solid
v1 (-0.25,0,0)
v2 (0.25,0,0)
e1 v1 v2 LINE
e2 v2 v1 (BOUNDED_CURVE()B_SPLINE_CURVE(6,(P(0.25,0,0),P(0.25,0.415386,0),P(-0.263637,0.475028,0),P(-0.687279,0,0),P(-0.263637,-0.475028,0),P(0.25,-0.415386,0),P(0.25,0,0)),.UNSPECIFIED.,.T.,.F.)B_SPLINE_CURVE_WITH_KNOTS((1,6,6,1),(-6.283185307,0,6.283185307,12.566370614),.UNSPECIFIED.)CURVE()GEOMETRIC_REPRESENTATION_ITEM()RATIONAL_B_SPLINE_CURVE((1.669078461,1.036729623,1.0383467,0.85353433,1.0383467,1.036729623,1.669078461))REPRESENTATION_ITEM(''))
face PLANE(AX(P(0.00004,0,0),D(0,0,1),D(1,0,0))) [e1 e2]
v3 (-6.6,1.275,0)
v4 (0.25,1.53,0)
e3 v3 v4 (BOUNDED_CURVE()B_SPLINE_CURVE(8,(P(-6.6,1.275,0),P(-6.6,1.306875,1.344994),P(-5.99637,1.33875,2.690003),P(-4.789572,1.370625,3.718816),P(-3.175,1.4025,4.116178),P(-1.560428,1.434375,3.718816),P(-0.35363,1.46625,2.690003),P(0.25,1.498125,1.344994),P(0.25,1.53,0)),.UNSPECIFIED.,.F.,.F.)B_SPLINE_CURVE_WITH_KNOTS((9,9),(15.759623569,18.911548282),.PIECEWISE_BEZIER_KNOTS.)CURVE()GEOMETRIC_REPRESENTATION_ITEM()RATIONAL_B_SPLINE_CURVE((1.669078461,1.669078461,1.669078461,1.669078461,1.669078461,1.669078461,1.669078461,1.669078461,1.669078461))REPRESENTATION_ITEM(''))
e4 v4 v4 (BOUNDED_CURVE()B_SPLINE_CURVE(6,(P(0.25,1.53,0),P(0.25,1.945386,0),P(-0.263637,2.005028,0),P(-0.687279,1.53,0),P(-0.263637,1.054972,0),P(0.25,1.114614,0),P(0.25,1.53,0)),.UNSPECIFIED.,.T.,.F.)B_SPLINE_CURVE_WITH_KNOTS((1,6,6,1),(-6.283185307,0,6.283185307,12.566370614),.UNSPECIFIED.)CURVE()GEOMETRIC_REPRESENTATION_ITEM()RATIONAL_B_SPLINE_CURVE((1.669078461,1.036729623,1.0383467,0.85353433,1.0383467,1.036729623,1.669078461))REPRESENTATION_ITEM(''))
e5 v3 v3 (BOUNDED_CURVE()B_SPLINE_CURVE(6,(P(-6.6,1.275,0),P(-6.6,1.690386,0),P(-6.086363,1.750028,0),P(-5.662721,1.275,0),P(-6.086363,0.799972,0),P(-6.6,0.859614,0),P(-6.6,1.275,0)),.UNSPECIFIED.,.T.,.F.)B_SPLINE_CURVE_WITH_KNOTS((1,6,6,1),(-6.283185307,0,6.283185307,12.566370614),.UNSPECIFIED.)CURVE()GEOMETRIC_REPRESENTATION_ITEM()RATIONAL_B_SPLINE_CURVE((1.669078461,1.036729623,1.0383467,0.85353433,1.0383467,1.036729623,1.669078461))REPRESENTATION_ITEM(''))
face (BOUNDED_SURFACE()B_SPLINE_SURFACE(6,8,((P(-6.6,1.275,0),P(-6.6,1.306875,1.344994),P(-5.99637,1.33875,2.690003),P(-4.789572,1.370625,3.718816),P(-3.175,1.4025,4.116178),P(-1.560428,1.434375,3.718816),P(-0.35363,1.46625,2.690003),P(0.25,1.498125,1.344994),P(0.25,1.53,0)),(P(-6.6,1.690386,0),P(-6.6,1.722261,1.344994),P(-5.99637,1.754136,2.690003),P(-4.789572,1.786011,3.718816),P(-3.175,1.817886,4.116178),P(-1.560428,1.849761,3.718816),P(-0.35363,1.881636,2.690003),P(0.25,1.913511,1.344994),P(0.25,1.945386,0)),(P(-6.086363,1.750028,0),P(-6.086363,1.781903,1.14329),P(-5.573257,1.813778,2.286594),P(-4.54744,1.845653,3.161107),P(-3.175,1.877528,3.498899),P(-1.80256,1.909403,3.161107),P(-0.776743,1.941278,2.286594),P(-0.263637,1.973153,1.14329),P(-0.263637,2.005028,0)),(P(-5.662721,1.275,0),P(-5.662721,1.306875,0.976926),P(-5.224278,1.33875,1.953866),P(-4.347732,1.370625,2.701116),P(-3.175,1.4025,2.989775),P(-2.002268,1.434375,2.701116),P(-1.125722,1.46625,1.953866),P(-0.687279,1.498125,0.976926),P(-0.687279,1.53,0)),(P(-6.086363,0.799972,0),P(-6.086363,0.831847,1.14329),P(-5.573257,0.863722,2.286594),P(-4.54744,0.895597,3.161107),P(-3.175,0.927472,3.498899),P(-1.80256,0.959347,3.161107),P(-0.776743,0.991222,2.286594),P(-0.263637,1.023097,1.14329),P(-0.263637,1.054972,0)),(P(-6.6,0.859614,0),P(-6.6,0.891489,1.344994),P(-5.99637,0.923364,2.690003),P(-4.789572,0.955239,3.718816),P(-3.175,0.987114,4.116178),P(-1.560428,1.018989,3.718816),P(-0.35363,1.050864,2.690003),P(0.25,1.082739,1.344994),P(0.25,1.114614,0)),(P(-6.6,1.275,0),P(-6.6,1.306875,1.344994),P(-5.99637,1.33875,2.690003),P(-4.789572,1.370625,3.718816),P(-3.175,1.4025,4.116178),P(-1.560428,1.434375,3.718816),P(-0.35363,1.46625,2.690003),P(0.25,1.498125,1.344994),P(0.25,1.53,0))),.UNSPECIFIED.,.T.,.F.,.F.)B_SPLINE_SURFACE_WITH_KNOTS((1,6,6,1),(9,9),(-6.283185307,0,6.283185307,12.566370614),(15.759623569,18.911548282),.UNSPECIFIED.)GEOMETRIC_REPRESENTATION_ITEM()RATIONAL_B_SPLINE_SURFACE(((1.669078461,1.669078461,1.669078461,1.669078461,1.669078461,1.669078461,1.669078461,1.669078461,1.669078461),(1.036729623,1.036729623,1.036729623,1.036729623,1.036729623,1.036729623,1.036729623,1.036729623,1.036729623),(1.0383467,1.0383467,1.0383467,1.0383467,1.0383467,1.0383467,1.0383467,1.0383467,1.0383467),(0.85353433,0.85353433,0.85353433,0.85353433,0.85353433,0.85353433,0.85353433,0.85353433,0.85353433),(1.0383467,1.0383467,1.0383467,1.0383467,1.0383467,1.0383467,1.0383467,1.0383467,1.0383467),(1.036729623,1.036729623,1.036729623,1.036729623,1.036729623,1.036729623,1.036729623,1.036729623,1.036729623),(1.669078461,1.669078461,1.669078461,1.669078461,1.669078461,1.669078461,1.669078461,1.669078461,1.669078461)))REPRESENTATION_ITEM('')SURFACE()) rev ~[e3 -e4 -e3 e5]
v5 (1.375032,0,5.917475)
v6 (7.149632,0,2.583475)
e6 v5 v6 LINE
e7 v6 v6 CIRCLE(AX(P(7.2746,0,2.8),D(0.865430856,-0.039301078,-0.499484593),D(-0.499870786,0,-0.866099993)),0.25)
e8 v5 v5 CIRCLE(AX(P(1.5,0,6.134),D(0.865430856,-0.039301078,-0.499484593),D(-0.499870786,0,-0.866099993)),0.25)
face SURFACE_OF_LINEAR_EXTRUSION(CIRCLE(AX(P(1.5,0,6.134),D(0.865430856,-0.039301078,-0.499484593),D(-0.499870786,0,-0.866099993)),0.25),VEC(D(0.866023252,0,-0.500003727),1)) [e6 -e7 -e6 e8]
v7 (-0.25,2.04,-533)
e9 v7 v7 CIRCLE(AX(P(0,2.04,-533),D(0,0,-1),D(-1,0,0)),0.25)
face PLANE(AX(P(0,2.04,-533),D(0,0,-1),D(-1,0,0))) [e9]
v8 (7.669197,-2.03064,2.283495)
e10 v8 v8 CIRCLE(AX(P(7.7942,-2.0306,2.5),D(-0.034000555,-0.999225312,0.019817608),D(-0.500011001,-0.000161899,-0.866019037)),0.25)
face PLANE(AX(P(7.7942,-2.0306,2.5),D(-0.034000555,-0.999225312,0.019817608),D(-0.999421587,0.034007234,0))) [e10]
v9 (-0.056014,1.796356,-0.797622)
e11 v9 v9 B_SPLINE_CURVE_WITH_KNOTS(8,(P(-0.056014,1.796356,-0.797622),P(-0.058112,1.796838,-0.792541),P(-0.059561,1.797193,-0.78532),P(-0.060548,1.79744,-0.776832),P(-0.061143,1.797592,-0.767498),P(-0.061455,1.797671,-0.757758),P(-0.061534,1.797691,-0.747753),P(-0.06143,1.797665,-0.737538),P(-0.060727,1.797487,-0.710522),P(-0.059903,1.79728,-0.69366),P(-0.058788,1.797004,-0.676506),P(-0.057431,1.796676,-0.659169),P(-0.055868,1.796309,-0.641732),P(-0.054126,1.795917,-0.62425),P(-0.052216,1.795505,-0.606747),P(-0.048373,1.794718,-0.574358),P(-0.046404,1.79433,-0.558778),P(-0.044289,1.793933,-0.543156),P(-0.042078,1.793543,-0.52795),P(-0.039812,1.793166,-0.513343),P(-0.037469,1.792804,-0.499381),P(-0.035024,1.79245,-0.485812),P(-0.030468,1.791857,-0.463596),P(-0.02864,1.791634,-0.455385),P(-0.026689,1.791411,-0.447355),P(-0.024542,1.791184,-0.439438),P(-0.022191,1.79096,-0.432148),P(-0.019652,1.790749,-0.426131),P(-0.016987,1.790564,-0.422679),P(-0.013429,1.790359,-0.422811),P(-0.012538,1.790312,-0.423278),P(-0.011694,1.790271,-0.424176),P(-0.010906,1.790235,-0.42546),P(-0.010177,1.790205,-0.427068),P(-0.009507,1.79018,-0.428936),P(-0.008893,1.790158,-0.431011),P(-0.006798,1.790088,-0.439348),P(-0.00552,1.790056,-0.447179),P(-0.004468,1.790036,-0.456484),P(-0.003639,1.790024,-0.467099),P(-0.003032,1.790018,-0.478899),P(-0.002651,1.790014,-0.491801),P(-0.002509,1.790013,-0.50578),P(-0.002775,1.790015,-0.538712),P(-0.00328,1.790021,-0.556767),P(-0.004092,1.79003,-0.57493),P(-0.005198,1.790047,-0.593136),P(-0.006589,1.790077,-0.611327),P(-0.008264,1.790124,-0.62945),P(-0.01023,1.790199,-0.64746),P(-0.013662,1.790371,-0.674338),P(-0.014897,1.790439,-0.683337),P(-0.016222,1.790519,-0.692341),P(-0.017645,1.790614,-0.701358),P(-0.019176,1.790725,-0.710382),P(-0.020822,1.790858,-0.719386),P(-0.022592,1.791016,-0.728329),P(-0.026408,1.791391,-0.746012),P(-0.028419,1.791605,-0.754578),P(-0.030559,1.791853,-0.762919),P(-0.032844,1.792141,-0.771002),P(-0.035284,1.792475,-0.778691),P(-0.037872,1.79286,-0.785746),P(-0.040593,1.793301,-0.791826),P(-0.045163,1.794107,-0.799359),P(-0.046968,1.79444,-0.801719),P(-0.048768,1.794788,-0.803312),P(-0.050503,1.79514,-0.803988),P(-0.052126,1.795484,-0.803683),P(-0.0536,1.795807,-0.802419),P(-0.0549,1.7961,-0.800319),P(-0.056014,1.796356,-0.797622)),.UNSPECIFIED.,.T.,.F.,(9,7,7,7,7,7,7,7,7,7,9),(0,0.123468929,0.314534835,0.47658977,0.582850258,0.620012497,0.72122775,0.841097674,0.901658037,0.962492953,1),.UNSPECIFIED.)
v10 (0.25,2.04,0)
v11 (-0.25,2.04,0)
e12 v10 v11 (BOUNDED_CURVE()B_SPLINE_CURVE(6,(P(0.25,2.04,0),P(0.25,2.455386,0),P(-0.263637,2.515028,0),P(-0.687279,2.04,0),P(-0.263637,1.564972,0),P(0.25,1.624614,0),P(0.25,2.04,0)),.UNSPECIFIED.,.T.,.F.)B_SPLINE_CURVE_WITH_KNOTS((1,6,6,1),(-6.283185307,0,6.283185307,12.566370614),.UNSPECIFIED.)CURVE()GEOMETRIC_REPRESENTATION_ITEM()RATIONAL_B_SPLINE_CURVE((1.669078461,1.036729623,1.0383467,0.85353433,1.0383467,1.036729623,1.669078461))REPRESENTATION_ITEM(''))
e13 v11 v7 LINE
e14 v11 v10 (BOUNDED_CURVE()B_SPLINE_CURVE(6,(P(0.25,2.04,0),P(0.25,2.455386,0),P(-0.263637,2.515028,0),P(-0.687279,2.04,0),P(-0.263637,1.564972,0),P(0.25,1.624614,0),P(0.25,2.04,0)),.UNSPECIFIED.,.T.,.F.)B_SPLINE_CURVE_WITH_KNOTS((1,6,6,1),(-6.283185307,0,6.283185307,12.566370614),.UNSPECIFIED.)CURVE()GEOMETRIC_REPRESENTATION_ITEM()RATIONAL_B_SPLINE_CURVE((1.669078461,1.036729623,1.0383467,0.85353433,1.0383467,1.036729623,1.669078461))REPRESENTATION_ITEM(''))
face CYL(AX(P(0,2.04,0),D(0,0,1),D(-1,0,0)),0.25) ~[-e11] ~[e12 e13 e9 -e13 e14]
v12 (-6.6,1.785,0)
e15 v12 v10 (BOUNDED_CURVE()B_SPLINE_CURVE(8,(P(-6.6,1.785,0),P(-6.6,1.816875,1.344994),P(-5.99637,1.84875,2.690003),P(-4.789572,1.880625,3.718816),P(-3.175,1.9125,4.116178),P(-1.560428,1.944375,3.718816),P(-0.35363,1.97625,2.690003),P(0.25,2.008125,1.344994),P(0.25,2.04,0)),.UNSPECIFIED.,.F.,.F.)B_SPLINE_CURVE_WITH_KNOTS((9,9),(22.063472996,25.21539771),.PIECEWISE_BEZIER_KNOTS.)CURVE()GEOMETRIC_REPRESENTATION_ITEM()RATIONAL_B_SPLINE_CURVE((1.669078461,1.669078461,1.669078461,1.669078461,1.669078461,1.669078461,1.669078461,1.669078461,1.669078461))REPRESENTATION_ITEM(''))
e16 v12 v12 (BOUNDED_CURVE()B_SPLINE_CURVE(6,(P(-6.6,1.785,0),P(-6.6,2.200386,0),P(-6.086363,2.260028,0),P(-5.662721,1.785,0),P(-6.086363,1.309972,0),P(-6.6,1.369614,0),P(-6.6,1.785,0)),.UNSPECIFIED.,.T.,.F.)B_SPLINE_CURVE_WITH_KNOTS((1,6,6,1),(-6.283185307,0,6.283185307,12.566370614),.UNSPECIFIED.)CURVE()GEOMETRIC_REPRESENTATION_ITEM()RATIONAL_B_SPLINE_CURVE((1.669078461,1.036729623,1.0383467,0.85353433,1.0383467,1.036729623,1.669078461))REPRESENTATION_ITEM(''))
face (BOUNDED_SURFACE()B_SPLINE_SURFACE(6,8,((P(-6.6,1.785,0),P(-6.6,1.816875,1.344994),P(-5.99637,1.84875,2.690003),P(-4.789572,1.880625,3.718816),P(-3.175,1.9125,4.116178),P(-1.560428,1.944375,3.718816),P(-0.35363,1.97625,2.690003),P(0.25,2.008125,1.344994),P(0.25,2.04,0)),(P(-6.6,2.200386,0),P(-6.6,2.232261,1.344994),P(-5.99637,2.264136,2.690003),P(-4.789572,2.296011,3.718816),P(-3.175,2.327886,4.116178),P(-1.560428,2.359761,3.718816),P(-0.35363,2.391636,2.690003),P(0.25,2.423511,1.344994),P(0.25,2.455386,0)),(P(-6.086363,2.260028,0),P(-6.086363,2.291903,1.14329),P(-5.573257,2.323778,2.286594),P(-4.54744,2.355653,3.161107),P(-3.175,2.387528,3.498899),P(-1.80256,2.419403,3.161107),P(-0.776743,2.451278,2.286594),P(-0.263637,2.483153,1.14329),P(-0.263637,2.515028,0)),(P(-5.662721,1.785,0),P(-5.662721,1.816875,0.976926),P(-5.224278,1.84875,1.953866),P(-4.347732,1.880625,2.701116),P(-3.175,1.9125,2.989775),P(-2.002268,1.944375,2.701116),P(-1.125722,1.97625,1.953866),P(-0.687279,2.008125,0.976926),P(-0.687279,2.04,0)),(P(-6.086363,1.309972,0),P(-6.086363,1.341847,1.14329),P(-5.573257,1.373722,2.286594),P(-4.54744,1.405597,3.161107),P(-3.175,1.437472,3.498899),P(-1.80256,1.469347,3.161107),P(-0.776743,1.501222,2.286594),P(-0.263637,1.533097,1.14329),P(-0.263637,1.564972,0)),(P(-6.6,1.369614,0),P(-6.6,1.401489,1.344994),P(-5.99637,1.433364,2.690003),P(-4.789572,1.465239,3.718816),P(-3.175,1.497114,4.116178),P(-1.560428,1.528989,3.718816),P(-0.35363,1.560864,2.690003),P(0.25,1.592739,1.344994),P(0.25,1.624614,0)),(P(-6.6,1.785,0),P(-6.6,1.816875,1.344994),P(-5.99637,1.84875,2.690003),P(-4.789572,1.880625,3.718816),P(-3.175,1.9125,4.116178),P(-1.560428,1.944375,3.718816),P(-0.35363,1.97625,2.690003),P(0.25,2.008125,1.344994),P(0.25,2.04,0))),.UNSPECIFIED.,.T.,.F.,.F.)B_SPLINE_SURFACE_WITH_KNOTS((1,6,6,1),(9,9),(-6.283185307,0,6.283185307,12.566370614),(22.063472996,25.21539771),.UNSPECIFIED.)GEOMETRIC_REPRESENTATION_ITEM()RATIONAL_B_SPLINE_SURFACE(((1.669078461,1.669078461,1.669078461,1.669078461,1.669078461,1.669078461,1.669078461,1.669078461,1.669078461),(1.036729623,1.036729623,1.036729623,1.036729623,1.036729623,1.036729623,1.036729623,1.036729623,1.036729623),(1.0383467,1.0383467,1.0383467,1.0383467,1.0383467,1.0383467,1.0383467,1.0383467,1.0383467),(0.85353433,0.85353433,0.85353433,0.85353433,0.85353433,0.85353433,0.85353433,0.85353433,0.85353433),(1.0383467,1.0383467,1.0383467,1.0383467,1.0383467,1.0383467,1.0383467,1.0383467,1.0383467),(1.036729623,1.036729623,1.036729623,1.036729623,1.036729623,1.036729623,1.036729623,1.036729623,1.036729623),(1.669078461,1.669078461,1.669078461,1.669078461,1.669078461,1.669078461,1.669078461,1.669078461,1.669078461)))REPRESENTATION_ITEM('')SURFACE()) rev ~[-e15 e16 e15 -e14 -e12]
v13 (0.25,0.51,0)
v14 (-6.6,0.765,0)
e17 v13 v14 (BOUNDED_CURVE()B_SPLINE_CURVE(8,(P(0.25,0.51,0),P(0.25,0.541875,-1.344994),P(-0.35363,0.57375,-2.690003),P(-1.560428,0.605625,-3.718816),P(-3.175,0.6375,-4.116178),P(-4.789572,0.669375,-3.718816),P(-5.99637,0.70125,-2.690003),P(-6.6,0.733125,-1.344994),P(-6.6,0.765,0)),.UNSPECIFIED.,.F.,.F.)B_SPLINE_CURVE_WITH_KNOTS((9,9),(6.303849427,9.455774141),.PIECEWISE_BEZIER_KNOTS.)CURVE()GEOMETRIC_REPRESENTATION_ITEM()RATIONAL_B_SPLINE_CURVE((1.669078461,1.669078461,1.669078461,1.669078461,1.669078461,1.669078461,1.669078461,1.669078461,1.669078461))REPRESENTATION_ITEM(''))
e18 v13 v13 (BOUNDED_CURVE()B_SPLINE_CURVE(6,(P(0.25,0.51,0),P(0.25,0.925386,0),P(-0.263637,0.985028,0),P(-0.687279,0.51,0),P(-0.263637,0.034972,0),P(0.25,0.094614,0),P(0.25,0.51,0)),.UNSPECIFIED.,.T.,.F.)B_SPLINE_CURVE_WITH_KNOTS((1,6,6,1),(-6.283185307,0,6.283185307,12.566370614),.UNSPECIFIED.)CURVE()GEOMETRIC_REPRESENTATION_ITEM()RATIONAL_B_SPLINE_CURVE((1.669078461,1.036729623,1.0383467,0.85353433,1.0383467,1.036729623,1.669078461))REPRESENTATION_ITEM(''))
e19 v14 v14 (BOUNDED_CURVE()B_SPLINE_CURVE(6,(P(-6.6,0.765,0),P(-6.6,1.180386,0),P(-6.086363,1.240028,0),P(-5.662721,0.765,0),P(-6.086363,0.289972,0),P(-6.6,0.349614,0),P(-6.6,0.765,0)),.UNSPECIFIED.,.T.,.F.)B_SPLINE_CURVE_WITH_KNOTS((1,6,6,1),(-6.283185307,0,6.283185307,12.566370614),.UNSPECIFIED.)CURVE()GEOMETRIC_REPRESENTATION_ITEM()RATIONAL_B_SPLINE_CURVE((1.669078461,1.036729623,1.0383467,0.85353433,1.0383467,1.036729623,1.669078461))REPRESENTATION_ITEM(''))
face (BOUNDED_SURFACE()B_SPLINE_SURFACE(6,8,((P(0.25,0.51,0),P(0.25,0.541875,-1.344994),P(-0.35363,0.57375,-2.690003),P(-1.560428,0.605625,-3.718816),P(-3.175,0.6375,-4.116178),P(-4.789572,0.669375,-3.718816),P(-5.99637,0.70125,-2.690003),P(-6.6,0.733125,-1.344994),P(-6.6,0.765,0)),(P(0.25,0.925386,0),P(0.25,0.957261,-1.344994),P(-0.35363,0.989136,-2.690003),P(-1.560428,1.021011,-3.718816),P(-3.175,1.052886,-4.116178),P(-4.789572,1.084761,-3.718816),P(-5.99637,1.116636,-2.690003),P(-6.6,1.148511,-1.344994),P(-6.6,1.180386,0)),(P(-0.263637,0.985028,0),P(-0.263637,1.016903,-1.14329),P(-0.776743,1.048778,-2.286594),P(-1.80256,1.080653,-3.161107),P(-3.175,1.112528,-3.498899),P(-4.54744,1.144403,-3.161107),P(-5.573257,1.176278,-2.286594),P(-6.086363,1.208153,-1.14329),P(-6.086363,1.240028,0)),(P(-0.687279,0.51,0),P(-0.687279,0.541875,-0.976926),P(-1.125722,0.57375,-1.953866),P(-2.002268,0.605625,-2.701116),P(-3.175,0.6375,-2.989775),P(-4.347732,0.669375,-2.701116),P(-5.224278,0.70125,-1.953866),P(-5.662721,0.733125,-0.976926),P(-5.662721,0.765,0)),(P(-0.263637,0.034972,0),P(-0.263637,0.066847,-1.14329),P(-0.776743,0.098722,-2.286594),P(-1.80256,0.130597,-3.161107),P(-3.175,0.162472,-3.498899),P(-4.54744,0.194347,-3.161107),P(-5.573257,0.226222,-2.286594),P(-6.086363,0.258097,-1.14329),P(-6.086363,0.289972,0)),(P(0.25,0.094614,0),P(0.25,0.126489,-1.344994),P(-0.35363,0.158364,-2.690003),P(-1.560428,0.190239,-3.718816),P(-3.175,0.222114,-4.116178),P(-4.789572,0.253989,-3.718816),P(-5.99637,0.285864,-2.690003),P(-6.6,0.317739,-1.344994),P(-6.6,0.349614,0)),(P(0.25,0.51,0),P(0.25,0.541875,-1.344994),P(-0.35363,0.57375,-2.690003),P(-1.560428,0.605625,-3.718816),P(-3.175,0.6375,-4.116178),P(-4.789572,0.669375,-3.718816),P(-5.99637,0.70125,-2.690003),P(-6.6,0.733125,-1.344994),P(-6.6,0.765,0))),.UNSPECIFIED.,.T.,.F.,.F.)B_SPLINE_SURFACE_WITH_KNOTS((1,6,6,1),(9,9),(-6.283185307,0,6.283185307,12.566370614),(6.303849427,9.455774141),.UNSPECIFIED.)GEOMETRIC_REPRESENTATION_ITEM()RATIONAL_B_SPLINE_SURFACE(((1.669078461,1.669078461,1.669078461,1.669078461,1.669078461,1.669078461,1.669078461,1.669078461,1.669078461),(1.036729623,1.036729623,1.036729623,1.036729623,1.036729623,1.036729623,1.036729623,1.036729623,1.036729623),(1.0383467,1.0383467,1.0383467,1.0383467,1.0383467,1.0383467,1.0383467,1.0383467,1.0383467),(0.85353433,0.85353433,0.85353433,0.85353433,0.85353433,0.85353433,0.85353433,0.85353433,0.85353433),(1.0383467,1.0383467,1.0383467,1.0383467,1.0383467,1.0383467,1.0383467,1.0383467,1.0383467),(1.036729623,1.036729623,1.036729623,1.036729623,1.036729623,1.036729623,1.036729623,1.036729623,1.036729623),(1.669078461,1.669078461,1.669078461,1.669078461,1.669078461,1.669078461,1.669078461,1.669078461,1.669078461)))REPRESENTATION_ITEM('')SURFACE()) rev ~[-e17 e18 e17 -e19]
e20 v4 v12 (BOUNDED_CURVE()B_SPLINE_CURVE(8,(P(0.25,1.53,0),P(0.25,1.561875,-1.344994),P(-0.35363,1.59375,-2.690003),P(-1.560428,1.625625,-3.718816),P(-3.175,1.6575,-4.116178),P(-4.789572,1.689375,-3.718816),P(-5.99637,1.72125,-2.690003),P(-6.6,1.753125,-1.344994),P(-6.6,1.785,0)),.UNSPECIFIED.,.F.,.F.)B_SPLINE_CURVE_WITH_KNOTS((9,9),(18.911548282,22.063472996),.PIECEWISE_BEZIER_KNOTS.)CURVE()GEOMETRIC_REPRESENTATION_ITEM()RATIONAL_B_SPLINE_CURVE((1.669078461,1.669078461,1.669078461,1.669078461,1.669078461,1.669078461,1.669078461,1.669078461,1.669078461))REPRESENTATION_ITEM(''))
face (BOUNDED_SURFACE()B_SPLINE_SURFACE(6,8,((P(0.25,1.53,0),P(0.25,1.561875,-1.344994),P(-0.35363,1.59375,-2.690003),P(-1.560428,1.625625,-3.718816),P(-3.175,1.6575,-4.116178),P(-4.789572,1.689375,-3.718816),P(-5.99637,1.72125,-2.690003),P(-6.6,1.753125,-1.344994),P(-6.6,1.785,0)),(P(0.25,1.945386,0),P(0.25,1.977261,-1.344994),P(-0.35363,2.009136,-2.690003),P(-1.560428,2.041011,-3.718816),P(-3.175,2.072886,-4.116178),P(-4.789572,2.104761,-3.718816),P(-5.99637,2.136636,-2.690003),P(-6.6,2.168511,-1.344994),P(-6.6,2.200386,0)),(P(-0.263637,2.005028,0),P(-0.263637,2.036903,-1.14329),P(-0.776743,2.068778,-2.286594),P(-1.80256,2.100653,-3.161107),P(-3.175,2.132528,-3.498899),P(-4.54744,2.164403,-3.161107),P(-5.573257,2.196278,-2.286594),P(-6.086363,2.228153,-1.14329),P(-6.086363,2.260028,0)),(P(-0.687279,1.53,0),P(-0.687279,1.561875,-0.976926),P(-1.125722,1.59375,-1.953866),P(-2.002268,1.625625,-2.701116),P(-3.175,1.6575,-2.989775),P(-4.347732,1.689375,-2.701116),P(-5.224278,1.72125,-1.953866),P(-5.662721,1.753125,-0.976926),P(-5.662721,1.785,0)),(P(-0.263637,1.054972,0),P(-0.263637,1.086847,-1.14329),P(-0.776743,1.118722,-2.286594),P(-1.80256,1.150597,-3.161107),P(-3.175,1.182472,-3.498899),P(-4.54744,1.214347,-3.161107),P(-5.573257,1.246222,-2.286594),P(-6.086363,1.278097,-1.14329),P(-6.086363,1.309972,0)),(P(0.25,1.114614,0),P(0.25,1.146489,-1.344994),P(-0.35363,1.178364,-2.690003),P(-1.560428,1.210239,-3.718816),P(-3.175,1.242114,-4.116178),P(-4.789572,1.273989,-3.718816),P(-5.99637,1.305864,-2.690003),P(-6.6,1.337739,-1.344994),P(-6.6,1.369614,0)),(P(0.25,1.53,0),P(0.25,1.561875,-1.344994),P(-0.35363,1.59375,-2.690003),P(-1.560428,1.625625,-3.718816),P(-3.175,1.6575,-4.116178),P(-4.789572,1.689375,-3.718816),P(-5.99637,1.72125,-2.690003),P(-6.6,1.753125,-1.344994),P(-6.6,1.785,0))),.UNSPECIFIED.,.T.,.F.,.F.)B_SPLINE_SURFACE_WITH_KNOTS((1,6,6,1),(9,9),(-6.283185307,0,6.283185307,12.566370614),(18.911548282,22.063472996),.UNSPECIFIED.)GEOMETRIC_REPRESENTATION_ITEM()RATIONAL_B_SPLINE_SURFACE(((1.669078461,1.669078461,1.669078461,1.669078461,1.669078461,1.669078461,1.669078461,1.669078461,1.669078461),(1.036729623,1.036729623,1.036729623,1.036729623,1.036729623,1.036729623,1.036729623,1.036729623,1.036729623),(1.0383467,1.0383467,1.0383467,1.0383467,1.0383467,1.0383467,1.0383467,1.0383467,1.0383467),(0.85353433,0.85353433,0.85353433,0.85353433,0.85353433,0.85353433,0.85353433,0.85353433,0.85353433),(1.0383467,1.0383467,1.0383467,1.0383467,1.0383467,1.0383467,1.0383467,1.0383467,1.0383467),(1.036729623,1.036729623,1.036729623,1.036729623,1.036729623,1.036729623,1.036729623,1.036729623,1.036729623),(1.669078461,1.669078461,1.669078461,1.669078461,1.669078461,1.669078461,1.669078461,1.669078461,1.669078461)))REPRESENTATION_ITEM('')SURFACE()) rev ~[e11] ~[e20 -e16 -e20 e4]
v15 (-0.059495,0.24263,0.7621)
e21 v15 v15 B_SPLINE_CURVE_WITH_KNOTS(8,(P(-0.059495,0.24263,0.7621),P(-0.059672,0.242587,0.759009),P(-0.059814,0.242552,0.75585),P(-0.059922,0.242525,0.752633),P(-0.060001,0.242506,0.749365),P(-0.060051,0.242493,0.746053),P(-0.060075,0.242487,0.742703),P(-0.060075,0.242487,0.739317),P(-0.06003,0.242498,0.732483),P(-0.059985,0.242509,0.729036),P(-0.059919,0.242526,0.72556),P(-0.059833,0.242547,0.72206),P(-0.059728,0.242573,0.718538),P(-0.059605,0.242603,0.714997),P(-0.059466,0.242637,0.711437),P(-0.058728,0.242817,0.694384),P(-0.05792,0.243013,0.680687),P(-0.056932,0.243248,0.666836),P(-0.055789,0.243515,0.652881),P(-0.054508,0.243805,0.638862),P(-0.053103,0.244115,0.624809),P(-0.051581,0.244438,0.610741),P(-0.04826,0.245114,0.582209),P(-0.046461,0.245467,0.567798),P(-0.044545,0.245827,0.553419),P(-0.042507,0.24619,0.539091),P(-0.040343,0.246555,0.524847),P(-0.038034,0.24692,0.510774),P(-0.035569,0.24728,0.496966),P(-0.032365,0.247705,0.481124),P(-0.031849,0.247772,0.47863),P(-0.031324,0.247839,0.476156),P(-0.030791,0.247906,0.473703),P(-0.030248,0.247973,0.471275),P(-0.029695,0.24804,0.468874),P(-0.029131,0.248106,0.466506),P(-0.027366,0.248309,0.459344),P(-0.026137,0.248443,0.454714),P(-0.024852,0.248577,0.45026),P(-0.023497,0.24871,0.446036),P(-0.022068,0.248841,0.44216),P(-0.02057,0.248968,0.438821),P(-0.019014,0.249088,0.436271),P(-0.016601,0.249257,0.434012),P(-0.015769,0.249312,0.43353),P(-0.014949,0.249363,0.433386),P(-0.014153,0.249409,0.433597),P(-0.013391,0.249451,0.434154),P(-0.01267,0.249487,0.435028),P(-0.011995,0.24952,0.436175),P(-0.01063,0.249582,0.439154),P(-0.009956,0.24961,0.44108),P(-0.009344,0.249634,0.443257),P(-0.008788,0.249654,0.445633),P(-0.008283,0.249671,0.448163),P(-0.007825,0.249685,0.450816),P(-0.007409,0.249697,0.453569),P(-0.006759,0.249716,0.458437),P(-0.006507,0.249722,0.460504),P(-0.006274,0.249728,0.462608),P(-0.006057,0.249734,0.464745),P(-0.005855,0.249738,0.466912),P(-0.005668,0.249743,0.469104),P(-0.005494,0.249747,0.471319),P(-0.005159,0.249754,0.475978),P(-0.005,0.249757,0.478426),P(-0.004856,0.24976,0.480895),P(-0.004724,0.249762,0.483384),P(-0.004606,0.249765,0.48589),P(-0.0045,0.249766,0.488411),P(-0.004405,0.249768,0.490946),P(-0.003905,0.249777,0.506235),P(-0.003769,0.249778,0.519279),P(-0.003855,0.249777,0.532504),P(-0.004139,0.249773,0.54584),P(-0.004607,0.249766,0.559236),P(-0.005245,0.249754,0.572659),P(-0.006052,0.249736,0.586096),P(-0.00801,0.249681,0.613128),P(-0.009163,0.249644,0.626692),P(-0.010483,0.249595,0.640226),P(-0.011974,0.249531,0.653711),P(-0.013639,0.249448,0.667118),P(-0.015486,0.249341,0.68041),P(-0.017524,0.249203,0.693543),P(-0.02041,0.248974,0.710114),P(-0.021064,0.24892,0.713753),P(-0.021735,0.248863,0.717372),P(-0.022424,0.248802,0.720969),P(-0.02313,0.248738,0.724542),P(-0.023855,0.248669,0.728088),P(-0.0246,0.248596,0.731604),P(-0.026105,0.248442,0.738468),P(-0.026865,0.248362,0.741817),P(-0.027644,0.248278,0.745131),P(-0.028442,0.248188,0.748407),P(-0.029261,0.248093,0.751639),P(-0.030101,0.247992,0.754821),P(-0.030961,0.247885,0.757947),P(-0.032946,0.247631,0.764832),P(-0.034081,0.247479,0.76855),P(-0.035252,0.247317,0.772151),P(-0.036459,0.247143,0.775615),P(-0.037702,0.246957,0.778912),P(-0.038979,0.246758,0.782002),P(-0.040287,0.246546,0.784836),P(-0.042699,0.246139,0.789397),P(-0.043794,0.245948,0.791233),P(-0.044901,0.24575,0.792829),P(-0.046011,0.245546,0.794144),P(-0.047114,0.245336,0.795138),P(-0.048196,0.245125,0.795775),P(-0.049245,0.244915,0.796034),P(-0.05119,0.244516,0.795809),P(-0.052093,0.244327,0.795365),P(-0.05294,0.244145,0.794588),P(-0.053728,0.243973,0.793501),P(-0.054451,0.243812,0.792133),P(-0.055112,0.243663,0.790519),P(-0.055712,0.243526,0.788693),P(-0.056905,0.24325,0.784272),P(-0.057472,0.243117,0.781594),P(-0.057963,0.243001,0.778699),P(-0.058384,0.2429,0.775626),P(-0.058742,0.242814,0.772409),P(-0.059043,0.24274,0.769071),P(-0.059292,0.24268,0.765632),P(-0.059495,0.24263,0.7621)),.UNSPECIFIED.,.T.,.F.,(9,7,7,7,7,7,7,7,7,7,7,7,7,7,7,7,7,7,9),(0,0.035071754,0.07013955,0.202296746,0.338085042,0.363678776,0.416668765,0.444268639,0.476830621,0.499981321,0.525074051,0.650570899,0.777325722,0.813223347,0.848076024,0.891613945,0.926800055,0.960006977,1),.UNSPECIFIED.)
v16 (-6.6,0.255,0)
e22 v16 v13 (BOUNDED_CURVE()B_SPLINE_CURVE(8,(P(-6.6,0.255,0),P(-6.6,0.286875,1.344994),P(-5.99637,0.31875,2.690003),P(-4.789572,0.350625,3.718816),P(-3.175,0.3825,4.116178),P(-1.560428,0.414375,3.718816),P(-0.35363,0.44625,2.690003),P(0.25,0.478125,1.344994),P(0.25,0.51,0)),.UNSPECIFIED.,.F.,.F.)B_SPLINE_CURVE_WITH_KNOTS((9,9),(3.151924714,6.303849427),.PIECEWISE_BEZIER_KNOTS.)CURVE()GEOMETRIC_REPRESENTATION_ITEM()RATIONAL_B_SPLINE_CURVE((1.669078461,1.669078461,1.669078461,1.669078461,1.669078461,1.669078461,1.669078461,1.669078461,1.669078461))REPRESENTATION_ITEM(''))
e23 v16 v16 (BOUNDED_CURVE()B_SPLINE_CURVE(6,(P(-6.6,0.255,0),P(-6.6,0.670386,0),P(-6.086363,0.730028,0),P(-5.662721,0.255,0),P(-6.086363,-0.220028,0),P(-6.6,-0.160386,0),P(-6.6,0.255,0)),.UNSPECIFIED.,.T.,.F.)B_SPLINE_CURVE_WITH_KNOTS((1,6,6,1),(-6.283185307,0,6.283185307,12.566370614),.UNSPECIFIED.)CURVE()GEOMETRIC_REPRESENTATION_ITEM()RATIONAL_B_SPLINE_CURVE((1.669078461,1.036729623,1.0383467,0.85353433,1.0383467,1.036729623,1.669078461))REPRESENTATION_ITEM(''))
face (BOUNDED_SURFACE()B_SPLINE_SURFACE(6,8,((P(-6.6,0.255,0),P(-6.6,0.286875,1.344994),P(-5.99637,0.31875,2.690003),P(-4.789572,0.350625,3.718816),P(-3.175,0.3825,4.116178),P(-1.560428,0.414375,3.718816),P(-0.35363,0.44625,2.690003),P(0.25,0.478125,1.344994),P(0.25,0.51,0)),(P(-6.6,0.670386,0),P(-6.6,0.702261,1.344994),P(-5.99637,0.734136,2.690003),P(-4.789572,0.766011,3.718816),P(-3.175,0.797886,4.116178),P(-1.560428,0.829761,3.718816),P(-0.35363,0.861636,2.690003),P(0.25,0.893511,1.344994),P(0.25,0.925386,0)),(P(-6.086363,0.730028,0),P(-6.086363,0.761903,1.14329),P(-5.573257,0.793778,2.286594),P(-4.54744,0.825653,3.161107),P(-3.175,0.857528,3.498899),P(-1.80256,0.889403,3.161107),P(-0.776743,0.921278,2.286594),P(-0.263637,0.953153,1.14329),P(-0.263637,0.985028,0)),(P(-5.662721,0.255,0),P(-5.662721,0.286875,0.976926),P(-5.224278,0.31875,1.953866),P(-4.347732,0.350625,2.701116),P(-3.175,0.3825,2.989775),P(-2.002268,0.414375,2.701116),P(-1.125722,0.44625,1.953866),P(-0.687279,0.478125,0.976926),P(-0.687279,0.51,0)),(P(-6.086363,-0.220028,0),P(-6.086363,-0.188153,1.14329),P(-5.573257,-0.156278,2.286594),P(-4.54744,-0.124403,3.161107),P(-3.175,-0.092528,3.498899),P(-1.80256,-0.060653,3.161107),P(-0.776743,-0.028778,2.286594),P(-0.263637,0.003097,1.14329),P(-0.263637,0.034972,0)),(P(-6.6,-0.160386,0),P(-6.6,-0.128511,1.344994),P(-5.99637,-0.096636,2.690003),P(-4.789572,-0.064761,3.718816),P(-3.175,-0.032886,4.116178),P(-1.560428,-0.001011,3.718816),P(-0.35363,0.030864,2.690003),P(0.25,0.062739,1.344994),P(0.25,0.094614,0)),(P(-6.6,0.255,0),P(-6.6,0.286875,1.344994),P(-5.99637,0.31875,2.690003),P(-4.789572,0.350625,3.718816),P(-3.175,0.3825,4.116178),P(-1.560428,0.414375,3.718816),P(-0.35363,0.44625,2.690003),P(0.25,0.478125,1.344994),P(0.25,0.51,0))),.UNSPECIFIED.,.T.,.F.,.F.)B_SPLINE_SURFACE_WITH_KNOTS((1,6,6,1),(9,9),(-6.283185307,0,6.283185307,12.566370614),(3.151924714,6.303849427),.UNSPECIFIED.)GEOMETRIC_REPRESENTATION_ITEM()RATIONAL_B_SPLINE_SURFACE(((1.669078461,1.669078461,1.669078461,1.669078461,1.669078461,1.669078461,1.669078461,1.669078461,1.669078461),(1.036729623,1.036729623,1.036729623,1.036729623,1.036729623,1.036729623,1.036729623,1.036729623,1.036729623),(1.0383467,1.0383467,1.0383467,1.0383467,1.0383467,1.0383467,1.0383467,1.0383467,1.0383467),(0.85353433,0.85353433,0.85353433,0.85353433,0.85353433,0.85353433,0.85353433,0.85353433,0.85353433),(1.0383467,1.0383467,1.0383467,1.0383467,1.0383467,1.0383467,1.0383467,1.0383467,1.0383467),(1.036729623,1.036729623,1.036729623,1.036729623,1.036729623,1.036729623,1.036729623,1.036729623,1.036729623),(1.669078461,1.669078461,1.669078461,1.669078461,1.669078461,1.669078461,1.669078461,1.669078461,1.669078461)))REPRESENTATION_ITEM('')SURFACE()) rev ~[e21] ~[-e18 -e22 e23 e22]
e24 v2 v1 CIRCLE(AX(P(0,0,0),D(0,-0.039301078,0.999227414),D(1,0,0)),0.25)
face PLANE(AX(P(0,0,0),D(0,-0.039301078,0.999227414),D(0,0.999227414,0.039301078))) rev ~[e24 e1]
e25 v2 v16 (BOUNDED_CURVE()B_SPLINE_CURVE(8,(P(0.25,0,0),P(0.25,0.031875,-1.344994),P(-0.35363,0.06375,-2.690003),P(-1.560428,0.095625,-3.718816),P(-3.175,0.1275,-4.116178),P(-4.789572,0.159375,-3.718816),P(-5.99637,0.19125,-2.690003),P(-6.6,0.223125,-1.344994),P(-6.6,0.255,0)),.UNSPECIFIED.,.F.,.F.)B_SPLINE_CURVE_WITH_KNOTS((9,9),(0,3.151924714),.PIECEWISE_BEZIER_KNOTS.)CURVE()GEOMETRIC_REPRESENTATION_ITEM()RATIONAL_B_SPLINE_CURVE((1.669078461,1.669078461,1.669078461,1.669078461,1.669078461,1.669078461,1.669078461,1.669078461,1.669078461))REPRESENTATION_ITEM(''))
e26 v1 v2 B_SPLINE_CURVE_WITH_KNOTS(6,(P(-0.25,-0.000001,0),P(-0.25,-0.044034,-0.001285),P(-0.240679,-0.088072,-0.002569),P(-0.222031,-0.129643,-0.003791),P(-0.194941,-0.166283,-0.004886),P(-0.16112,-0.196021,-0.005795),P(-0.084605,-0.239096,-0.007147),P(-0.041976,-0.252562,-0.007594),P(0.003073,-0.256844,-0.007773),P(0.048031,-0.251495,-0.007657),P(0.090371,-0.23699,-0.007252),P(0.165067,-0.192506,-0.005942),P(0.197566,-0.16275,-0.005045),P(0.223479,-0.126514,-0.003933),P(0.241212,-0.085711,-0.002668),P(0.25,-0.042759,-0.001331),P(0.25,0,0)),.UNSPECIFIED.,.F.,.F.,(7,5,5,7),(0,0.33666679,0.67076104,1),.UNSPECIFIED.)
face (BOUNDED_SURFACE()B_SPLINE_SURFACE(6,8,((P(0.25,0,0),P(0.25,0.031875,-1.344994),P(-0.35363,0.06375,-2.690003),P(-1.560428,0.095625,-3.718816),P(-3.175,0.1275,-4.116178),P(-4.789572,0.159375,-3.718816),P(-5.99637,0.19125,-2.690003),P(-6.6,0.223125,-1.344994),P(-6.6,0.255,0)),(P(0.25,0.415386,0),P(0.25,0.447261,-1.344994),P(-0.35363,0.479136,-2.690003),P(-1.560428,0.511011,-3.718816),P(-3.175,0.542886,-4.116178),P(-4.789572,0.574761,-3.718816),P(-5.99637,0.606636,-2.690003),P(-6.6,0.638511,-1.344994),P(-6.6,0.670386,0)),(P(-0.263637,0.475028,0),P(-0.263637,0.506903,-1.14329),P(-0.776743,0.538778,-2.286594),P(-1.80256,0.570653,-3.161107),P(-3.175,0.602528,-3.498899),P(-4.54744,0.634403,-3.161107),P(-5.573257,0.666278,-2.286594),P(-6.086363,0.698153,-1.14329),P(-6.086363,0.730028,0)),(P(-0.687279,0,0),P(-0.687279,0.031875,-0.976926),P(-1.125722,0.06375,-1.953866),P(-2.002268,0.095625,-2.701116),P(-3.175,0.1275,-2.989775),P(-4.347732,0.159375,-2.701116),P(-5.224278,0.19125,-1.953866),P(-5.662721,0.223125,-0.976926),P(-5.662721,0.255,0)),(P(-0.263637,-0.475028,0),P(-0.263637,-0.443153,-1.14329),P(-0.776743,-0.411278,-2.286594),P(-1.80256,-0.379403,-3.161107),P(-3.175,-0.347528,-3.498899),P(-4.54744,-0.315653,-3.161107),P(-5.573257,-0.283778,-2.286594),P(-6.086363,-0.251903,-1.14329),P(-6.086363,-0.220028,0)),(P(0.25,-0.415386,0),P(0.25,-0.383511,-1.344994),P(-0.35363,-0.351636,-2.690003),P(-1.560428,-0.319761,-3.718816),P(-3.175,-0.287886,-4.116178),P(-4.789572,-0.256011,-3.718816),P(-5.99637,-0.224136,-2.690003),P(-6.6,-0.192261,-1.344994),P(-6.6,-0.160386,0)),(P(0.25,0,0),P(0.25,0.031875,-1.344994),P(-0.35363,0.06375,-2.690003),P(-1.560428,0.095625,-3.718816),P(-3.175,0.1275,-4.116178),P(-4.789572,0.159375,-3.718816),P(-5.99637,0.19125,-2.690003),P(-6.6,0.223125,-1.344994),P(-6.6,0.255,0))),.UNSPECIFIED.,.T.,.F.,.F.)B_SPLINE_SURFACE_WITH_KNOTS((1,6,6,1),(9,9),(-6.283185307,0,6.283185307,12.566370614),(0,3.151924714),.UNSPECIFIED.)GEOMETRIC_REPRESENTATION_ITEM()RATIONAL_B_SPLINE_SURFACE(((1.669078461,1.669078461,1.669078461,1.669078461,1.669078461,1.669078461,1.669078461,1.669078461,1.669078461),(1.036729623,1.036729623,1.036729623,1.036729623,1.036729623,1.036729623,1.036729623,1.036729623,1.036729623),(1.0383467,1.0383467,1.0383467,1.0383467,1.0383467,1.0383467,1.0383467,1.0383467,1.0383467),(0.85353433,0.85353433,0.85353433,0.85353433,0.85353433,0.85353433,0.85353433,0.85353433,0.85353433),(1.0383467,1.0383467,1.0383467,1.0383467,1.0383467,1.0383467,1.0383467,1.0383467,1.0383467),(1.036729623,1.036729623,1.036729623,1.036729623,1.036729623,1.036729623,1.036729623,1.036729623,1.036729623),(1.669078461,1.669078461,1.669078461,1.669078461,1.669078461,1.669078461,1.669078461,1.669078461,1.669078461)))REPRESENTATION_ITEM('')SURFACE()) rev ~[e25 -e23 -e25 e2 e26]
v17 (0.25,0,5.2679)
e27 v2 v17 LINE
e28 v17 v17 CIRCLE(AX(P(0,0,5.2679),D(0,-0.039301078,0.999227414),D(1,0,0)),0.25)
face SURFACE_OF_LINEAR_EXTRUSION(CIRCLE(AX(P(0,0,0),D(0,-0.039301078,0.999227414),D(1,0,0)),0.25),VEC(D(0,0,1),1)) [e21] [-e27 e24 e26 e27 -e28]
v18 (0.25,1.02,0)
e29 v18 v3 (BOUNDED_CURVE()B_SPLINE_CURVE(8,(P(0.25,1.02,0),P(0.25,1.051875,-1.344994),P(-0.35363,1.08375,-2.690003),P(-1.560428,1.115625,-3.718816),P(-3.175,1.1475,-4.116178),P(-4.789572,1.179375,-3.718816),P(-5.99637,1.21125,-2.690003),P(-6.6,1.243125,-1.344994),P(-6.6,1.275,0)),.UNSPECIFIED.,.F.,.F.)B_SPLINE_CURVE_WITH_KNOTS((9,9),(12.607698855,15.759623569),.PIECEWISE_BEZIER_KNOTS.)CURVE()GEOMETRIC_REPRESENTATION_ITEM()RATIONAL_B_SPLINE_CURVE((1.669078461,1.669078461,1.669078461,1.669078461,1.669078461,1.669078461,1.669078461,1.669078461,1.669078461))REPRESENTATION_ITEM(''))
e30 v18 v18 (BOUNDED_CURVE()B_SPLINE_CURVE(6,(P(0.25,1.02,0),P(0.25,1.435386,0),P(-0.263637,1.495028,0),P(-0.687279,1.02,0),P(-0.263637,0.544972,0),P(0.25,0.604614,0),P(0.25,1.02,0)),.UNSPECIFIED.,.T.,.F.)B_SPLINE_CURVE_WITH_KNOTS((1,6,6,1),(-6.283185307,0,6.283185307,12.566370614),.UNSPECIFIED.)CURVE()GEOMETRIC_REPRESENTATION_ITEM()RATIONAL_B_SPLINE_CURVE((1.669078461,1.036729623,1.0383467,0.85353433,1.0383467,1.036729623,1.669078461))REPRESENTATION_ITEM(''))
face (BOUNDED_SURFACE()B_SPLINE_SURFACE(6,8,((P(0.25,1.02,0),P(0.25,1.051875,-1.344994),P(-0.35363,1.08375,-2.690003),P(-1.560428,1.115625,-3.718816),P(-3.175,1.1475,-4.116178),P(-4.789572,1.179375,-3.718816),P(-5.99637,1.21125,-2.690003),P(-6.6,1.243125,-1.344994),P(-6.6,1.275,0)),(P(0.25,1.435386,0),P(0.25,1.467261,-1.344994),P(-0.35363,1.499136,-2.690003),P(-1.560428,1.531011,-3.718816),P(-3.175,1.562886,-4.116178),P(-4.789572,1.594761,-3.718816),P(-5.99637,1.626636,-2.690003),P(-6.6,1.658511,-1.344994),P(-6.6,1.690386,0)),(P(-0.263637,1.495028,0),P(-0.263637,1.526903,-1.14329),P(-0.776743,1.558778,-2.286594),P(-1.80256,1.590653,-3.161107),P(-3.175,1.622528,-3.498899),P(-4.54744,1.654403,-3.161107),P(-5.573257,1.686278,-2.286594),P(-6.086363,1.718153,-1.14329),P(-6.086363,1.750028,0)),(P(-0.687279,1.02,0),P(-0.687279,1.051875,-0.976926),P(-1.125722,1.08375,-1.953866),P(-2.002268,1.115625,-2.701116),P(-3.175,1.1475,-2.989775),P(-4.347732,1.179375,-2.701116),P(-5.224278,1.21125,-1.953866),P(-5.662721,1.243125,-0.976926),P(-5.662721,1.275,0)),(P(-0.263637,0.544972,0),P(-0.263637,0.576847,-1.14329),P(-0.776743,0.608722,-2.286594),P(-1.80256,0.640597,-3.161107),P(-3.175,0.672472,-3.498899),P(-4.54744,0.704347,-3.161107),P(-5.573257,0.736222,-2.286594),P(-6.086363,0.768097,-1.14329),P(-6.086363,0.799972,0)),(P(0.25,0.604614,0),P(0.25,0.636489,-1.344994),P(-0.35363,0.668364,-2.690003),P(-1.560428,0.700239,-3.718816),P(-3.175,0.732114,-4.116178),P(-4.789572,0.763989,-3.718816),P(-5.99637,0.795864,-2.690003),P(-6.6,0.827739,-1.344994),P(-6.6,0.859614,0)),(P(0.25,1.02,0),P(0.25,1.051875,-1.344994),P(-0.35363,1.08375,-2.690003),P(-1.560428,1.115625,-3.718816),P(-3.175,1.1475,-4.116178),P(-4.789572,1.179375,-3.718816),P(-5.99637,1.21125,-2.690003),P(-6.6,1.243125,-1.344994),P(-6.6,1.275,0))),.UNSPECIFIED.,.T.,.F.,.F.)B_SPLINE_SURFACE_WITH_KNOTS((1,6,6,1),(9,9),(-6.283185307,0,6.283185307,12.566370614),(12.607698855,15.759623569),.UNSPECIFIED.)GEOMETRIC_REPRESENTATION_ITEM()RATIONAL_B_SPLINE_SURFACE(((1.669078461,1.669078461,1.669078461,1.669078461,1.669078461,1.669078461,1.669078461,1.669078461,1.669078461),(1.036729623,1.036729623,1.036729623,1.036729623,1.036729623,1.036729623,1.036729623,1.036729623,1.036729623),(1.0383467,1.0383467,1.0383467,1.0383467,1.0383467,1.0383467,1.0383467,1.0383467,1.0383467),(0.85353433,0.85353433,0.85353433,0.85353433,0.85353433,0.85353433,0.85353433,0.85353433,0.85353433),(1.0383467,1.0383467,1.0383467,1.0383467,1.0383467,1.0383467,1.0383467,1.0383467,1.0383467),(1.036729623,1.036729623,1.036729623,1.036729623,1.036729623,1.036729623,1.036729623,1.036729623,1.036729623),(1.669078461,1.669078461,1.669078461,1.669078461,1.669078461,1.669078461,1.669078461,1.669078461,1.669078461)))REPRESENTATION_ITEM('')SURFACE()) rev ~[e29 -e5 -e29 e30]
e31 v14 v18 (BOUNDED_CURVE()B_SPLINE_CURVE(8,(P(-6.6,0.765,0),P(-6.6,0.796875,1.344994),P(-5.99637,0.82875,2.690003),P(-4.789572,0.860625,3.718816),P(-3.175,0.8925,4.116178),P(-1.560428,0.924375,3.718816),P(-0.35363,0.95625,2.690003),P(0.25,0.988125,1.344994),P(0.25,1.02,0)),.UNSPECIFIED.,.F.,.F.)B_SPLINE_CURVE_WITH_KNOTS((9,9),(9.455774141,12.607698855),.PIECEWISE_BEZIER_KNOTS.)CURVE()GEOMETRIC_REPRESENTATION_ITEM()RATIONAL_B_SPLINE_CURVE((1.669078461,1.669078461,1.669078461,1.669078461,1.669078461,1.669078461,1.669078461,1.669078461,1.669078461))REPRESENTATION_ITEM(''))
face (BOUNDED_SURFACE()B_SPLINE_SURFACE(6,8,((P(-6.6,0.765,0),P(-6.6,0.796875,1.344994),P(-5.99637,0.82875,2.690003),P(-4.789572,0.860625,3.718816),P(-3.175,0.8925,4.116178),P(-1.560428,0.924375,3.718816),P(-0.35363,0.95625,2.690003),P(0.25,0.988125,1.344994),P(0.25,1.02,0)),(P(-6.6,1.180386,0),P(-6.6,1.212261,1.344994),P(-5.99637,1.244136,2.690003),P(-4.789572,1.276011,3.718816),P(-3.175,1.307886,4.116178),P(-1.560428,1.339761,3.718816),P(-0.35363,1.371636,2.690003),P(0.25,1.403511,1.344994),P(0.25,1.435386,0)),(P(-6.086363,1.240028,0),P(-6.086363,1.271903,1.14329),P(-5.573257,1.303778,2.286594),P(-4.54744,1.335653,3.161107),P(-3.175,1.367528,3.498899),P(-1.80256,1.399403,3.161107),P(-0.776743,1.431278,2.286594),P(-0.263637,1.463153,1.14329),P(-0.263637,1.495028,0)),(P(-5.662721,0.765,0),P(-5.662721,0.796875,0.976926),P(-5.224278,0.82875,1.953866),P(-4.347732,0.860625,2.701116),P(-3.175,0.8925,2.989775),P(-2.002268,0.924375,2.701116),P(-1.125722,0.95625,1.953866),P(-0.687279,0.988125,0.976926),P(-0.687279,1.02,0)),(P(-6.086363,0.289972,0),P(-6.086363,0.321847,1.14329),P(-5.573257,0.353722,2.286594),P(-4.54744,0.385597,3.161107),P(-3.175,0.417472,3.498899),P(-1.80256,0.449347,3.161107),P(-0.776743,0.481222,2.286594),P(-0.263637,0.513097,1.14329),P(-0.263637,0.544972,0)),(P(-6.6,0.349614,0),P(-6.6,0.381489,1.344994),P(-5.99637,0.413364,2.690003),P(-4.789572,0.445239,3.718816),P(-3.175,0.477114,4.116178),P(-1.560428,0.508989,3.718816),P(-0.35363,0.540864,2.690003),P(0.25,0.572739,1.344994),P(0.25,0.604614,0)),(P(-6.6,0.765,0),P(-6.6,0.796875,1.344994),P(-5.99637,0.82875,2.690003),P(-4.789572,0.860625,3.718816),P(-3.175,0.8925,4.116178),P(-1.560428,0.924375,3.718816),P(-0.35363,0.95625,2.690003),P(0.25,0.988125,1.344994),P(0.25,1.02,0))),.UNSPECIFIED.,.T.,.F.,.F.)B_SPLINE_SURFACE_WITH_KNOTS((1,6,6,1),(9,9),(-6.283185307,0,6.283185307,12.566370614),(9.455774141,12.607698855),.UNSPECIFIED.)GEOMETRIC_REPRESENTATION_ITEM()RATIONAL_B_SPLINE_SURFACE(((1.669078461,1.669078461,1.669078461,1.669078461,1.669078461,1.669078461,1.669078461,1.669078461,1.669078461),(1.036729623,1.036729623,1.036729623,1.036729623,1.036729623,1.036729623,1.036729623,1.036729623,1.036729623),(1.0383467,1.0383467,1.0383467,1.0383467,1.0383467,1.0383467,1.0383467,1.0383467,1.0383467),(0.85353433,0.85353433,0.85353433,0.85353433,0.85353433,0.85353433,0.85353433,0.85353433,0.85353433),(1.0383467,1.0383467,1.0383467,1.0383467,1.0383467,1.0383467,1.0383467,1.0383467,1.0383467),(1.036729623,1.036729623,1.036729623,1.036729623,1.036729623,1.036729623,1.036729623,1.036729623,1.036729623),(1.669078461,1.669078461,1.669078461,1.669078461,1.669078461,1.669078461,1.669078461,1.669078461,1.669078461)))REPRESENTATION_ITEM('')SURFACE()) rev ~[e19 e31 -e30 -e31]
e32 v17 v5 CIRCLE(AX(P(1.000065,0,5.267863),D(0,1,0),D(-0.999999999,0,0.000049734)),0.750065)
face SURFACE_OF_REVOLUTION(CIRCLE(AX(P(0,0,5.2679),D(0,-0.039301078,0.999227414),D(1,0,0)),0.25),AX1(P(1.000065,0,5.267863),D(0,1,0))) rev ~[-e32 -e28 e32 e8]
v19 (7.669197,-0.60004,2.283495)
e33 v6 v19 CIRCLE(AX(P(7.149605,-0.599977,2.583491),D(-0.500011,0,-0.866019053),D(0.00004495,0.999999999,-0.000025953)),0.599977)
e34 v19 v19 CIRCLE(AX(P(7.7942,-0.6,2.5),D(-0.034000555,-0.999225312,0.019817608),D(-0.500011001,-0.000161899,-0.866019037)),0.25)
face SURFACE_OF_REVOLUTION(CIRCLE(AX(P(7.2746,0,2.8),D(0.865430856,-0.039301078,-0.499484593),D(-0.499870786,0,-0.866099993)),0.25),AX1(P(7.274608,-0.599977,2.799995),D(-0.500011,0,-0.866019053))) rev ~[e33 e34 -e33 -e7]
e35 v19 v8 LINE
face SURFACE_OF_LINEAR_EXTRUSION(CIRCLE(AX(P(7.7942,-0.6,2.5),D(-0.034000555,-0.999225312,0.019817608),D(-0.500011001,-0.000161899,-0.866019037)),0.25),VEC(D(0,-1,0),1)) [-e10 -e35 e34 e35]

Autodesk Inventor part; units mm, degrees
ref_plane "YZ Plane" through (0, 0, 0) normal (1, 0, 0) x (0, 1, 0)
ref_plane "XZ Plane" through (0, 0, 0) normal (0, 1, 0) x (-1, 0, 0)
sketch "Sketch1" plane through (0, 0, 0) normal (0, 0, 1) x (1, 0, 0)
  circle A0 centre (0, 0) radius 0.25
  line L0 (-3.175, 0) -> (-3.175, 4.9243)
  dimension "d0" = 0.5
  dimension "d1" = 6.35
coil "Coil1" sketch "Sketch1" operation add axis through (-3.175, 0, 0) along (0, 1, 0) pitch 0.51 turns 4 hand right
ref_plane "Work Plane2" through (0, 0, 0) normal (0, -0.0393, 0.9992) x (1, 0, 0)
ref_plane "Work Plane3" through (0, 0, 0) normal (0, -0.9992, -0.0393) x (1, 0, 0)
sketch "Sketch2" plane through (0, 0, 0) normal (0, -0.0393, 0.9992) x (1, 0, 0)
  circle A0 centre (0, 0) radius 0.25
  circle A1 centre (0, 0) radius 0.25
  point P0 (0.25, 0)
  dimension "d10" = 0.5
sketch3d "3D Sketch2"
  line L0 (0, 0, 0) -> (0, 0, 5.2679)
  arc A0 (0, 0, 5.2679) -> (1.5, 0, 6.134) centre (1, 0, 5.2679) ccw
  line L1 (1.5, 0, 6.134) -> (7.2746, 0, 2.8)
  arc A1 (7.2746, 0, 2.8) -> (7.7942, -0.6, 2.5) centre (7.2746, -0.6, 2.8) ccw
  line L2 (7.7942, -0.6, 2.5) -> (7.7942, -2.0306, 2.5)
  dimension "d20" = 7
  dimension "d37" = 0.6
  dimension "d40" = 9
  dimension "d41" = 60
  dimension "d36" = 1
sweep "Sweep1" add profiles "Sketch2" path "3D Sketch2"
sketch "Sketch6" plane through (0, 2.04, 0) normal (0, 0, -1) x (-1, 0, 0)
  circle A0 centre (0, 0) radius 0.25 projected
  circle A1 centre (0, 0) radius 0.25
  point P0 (-0.25, 0)
  point P1 (0, -2.04)
extrude "Extrusion1" add sketch "Sketch6" along normal blind 533
properties part number "antenna_tx_deploy" material "BeCu"
